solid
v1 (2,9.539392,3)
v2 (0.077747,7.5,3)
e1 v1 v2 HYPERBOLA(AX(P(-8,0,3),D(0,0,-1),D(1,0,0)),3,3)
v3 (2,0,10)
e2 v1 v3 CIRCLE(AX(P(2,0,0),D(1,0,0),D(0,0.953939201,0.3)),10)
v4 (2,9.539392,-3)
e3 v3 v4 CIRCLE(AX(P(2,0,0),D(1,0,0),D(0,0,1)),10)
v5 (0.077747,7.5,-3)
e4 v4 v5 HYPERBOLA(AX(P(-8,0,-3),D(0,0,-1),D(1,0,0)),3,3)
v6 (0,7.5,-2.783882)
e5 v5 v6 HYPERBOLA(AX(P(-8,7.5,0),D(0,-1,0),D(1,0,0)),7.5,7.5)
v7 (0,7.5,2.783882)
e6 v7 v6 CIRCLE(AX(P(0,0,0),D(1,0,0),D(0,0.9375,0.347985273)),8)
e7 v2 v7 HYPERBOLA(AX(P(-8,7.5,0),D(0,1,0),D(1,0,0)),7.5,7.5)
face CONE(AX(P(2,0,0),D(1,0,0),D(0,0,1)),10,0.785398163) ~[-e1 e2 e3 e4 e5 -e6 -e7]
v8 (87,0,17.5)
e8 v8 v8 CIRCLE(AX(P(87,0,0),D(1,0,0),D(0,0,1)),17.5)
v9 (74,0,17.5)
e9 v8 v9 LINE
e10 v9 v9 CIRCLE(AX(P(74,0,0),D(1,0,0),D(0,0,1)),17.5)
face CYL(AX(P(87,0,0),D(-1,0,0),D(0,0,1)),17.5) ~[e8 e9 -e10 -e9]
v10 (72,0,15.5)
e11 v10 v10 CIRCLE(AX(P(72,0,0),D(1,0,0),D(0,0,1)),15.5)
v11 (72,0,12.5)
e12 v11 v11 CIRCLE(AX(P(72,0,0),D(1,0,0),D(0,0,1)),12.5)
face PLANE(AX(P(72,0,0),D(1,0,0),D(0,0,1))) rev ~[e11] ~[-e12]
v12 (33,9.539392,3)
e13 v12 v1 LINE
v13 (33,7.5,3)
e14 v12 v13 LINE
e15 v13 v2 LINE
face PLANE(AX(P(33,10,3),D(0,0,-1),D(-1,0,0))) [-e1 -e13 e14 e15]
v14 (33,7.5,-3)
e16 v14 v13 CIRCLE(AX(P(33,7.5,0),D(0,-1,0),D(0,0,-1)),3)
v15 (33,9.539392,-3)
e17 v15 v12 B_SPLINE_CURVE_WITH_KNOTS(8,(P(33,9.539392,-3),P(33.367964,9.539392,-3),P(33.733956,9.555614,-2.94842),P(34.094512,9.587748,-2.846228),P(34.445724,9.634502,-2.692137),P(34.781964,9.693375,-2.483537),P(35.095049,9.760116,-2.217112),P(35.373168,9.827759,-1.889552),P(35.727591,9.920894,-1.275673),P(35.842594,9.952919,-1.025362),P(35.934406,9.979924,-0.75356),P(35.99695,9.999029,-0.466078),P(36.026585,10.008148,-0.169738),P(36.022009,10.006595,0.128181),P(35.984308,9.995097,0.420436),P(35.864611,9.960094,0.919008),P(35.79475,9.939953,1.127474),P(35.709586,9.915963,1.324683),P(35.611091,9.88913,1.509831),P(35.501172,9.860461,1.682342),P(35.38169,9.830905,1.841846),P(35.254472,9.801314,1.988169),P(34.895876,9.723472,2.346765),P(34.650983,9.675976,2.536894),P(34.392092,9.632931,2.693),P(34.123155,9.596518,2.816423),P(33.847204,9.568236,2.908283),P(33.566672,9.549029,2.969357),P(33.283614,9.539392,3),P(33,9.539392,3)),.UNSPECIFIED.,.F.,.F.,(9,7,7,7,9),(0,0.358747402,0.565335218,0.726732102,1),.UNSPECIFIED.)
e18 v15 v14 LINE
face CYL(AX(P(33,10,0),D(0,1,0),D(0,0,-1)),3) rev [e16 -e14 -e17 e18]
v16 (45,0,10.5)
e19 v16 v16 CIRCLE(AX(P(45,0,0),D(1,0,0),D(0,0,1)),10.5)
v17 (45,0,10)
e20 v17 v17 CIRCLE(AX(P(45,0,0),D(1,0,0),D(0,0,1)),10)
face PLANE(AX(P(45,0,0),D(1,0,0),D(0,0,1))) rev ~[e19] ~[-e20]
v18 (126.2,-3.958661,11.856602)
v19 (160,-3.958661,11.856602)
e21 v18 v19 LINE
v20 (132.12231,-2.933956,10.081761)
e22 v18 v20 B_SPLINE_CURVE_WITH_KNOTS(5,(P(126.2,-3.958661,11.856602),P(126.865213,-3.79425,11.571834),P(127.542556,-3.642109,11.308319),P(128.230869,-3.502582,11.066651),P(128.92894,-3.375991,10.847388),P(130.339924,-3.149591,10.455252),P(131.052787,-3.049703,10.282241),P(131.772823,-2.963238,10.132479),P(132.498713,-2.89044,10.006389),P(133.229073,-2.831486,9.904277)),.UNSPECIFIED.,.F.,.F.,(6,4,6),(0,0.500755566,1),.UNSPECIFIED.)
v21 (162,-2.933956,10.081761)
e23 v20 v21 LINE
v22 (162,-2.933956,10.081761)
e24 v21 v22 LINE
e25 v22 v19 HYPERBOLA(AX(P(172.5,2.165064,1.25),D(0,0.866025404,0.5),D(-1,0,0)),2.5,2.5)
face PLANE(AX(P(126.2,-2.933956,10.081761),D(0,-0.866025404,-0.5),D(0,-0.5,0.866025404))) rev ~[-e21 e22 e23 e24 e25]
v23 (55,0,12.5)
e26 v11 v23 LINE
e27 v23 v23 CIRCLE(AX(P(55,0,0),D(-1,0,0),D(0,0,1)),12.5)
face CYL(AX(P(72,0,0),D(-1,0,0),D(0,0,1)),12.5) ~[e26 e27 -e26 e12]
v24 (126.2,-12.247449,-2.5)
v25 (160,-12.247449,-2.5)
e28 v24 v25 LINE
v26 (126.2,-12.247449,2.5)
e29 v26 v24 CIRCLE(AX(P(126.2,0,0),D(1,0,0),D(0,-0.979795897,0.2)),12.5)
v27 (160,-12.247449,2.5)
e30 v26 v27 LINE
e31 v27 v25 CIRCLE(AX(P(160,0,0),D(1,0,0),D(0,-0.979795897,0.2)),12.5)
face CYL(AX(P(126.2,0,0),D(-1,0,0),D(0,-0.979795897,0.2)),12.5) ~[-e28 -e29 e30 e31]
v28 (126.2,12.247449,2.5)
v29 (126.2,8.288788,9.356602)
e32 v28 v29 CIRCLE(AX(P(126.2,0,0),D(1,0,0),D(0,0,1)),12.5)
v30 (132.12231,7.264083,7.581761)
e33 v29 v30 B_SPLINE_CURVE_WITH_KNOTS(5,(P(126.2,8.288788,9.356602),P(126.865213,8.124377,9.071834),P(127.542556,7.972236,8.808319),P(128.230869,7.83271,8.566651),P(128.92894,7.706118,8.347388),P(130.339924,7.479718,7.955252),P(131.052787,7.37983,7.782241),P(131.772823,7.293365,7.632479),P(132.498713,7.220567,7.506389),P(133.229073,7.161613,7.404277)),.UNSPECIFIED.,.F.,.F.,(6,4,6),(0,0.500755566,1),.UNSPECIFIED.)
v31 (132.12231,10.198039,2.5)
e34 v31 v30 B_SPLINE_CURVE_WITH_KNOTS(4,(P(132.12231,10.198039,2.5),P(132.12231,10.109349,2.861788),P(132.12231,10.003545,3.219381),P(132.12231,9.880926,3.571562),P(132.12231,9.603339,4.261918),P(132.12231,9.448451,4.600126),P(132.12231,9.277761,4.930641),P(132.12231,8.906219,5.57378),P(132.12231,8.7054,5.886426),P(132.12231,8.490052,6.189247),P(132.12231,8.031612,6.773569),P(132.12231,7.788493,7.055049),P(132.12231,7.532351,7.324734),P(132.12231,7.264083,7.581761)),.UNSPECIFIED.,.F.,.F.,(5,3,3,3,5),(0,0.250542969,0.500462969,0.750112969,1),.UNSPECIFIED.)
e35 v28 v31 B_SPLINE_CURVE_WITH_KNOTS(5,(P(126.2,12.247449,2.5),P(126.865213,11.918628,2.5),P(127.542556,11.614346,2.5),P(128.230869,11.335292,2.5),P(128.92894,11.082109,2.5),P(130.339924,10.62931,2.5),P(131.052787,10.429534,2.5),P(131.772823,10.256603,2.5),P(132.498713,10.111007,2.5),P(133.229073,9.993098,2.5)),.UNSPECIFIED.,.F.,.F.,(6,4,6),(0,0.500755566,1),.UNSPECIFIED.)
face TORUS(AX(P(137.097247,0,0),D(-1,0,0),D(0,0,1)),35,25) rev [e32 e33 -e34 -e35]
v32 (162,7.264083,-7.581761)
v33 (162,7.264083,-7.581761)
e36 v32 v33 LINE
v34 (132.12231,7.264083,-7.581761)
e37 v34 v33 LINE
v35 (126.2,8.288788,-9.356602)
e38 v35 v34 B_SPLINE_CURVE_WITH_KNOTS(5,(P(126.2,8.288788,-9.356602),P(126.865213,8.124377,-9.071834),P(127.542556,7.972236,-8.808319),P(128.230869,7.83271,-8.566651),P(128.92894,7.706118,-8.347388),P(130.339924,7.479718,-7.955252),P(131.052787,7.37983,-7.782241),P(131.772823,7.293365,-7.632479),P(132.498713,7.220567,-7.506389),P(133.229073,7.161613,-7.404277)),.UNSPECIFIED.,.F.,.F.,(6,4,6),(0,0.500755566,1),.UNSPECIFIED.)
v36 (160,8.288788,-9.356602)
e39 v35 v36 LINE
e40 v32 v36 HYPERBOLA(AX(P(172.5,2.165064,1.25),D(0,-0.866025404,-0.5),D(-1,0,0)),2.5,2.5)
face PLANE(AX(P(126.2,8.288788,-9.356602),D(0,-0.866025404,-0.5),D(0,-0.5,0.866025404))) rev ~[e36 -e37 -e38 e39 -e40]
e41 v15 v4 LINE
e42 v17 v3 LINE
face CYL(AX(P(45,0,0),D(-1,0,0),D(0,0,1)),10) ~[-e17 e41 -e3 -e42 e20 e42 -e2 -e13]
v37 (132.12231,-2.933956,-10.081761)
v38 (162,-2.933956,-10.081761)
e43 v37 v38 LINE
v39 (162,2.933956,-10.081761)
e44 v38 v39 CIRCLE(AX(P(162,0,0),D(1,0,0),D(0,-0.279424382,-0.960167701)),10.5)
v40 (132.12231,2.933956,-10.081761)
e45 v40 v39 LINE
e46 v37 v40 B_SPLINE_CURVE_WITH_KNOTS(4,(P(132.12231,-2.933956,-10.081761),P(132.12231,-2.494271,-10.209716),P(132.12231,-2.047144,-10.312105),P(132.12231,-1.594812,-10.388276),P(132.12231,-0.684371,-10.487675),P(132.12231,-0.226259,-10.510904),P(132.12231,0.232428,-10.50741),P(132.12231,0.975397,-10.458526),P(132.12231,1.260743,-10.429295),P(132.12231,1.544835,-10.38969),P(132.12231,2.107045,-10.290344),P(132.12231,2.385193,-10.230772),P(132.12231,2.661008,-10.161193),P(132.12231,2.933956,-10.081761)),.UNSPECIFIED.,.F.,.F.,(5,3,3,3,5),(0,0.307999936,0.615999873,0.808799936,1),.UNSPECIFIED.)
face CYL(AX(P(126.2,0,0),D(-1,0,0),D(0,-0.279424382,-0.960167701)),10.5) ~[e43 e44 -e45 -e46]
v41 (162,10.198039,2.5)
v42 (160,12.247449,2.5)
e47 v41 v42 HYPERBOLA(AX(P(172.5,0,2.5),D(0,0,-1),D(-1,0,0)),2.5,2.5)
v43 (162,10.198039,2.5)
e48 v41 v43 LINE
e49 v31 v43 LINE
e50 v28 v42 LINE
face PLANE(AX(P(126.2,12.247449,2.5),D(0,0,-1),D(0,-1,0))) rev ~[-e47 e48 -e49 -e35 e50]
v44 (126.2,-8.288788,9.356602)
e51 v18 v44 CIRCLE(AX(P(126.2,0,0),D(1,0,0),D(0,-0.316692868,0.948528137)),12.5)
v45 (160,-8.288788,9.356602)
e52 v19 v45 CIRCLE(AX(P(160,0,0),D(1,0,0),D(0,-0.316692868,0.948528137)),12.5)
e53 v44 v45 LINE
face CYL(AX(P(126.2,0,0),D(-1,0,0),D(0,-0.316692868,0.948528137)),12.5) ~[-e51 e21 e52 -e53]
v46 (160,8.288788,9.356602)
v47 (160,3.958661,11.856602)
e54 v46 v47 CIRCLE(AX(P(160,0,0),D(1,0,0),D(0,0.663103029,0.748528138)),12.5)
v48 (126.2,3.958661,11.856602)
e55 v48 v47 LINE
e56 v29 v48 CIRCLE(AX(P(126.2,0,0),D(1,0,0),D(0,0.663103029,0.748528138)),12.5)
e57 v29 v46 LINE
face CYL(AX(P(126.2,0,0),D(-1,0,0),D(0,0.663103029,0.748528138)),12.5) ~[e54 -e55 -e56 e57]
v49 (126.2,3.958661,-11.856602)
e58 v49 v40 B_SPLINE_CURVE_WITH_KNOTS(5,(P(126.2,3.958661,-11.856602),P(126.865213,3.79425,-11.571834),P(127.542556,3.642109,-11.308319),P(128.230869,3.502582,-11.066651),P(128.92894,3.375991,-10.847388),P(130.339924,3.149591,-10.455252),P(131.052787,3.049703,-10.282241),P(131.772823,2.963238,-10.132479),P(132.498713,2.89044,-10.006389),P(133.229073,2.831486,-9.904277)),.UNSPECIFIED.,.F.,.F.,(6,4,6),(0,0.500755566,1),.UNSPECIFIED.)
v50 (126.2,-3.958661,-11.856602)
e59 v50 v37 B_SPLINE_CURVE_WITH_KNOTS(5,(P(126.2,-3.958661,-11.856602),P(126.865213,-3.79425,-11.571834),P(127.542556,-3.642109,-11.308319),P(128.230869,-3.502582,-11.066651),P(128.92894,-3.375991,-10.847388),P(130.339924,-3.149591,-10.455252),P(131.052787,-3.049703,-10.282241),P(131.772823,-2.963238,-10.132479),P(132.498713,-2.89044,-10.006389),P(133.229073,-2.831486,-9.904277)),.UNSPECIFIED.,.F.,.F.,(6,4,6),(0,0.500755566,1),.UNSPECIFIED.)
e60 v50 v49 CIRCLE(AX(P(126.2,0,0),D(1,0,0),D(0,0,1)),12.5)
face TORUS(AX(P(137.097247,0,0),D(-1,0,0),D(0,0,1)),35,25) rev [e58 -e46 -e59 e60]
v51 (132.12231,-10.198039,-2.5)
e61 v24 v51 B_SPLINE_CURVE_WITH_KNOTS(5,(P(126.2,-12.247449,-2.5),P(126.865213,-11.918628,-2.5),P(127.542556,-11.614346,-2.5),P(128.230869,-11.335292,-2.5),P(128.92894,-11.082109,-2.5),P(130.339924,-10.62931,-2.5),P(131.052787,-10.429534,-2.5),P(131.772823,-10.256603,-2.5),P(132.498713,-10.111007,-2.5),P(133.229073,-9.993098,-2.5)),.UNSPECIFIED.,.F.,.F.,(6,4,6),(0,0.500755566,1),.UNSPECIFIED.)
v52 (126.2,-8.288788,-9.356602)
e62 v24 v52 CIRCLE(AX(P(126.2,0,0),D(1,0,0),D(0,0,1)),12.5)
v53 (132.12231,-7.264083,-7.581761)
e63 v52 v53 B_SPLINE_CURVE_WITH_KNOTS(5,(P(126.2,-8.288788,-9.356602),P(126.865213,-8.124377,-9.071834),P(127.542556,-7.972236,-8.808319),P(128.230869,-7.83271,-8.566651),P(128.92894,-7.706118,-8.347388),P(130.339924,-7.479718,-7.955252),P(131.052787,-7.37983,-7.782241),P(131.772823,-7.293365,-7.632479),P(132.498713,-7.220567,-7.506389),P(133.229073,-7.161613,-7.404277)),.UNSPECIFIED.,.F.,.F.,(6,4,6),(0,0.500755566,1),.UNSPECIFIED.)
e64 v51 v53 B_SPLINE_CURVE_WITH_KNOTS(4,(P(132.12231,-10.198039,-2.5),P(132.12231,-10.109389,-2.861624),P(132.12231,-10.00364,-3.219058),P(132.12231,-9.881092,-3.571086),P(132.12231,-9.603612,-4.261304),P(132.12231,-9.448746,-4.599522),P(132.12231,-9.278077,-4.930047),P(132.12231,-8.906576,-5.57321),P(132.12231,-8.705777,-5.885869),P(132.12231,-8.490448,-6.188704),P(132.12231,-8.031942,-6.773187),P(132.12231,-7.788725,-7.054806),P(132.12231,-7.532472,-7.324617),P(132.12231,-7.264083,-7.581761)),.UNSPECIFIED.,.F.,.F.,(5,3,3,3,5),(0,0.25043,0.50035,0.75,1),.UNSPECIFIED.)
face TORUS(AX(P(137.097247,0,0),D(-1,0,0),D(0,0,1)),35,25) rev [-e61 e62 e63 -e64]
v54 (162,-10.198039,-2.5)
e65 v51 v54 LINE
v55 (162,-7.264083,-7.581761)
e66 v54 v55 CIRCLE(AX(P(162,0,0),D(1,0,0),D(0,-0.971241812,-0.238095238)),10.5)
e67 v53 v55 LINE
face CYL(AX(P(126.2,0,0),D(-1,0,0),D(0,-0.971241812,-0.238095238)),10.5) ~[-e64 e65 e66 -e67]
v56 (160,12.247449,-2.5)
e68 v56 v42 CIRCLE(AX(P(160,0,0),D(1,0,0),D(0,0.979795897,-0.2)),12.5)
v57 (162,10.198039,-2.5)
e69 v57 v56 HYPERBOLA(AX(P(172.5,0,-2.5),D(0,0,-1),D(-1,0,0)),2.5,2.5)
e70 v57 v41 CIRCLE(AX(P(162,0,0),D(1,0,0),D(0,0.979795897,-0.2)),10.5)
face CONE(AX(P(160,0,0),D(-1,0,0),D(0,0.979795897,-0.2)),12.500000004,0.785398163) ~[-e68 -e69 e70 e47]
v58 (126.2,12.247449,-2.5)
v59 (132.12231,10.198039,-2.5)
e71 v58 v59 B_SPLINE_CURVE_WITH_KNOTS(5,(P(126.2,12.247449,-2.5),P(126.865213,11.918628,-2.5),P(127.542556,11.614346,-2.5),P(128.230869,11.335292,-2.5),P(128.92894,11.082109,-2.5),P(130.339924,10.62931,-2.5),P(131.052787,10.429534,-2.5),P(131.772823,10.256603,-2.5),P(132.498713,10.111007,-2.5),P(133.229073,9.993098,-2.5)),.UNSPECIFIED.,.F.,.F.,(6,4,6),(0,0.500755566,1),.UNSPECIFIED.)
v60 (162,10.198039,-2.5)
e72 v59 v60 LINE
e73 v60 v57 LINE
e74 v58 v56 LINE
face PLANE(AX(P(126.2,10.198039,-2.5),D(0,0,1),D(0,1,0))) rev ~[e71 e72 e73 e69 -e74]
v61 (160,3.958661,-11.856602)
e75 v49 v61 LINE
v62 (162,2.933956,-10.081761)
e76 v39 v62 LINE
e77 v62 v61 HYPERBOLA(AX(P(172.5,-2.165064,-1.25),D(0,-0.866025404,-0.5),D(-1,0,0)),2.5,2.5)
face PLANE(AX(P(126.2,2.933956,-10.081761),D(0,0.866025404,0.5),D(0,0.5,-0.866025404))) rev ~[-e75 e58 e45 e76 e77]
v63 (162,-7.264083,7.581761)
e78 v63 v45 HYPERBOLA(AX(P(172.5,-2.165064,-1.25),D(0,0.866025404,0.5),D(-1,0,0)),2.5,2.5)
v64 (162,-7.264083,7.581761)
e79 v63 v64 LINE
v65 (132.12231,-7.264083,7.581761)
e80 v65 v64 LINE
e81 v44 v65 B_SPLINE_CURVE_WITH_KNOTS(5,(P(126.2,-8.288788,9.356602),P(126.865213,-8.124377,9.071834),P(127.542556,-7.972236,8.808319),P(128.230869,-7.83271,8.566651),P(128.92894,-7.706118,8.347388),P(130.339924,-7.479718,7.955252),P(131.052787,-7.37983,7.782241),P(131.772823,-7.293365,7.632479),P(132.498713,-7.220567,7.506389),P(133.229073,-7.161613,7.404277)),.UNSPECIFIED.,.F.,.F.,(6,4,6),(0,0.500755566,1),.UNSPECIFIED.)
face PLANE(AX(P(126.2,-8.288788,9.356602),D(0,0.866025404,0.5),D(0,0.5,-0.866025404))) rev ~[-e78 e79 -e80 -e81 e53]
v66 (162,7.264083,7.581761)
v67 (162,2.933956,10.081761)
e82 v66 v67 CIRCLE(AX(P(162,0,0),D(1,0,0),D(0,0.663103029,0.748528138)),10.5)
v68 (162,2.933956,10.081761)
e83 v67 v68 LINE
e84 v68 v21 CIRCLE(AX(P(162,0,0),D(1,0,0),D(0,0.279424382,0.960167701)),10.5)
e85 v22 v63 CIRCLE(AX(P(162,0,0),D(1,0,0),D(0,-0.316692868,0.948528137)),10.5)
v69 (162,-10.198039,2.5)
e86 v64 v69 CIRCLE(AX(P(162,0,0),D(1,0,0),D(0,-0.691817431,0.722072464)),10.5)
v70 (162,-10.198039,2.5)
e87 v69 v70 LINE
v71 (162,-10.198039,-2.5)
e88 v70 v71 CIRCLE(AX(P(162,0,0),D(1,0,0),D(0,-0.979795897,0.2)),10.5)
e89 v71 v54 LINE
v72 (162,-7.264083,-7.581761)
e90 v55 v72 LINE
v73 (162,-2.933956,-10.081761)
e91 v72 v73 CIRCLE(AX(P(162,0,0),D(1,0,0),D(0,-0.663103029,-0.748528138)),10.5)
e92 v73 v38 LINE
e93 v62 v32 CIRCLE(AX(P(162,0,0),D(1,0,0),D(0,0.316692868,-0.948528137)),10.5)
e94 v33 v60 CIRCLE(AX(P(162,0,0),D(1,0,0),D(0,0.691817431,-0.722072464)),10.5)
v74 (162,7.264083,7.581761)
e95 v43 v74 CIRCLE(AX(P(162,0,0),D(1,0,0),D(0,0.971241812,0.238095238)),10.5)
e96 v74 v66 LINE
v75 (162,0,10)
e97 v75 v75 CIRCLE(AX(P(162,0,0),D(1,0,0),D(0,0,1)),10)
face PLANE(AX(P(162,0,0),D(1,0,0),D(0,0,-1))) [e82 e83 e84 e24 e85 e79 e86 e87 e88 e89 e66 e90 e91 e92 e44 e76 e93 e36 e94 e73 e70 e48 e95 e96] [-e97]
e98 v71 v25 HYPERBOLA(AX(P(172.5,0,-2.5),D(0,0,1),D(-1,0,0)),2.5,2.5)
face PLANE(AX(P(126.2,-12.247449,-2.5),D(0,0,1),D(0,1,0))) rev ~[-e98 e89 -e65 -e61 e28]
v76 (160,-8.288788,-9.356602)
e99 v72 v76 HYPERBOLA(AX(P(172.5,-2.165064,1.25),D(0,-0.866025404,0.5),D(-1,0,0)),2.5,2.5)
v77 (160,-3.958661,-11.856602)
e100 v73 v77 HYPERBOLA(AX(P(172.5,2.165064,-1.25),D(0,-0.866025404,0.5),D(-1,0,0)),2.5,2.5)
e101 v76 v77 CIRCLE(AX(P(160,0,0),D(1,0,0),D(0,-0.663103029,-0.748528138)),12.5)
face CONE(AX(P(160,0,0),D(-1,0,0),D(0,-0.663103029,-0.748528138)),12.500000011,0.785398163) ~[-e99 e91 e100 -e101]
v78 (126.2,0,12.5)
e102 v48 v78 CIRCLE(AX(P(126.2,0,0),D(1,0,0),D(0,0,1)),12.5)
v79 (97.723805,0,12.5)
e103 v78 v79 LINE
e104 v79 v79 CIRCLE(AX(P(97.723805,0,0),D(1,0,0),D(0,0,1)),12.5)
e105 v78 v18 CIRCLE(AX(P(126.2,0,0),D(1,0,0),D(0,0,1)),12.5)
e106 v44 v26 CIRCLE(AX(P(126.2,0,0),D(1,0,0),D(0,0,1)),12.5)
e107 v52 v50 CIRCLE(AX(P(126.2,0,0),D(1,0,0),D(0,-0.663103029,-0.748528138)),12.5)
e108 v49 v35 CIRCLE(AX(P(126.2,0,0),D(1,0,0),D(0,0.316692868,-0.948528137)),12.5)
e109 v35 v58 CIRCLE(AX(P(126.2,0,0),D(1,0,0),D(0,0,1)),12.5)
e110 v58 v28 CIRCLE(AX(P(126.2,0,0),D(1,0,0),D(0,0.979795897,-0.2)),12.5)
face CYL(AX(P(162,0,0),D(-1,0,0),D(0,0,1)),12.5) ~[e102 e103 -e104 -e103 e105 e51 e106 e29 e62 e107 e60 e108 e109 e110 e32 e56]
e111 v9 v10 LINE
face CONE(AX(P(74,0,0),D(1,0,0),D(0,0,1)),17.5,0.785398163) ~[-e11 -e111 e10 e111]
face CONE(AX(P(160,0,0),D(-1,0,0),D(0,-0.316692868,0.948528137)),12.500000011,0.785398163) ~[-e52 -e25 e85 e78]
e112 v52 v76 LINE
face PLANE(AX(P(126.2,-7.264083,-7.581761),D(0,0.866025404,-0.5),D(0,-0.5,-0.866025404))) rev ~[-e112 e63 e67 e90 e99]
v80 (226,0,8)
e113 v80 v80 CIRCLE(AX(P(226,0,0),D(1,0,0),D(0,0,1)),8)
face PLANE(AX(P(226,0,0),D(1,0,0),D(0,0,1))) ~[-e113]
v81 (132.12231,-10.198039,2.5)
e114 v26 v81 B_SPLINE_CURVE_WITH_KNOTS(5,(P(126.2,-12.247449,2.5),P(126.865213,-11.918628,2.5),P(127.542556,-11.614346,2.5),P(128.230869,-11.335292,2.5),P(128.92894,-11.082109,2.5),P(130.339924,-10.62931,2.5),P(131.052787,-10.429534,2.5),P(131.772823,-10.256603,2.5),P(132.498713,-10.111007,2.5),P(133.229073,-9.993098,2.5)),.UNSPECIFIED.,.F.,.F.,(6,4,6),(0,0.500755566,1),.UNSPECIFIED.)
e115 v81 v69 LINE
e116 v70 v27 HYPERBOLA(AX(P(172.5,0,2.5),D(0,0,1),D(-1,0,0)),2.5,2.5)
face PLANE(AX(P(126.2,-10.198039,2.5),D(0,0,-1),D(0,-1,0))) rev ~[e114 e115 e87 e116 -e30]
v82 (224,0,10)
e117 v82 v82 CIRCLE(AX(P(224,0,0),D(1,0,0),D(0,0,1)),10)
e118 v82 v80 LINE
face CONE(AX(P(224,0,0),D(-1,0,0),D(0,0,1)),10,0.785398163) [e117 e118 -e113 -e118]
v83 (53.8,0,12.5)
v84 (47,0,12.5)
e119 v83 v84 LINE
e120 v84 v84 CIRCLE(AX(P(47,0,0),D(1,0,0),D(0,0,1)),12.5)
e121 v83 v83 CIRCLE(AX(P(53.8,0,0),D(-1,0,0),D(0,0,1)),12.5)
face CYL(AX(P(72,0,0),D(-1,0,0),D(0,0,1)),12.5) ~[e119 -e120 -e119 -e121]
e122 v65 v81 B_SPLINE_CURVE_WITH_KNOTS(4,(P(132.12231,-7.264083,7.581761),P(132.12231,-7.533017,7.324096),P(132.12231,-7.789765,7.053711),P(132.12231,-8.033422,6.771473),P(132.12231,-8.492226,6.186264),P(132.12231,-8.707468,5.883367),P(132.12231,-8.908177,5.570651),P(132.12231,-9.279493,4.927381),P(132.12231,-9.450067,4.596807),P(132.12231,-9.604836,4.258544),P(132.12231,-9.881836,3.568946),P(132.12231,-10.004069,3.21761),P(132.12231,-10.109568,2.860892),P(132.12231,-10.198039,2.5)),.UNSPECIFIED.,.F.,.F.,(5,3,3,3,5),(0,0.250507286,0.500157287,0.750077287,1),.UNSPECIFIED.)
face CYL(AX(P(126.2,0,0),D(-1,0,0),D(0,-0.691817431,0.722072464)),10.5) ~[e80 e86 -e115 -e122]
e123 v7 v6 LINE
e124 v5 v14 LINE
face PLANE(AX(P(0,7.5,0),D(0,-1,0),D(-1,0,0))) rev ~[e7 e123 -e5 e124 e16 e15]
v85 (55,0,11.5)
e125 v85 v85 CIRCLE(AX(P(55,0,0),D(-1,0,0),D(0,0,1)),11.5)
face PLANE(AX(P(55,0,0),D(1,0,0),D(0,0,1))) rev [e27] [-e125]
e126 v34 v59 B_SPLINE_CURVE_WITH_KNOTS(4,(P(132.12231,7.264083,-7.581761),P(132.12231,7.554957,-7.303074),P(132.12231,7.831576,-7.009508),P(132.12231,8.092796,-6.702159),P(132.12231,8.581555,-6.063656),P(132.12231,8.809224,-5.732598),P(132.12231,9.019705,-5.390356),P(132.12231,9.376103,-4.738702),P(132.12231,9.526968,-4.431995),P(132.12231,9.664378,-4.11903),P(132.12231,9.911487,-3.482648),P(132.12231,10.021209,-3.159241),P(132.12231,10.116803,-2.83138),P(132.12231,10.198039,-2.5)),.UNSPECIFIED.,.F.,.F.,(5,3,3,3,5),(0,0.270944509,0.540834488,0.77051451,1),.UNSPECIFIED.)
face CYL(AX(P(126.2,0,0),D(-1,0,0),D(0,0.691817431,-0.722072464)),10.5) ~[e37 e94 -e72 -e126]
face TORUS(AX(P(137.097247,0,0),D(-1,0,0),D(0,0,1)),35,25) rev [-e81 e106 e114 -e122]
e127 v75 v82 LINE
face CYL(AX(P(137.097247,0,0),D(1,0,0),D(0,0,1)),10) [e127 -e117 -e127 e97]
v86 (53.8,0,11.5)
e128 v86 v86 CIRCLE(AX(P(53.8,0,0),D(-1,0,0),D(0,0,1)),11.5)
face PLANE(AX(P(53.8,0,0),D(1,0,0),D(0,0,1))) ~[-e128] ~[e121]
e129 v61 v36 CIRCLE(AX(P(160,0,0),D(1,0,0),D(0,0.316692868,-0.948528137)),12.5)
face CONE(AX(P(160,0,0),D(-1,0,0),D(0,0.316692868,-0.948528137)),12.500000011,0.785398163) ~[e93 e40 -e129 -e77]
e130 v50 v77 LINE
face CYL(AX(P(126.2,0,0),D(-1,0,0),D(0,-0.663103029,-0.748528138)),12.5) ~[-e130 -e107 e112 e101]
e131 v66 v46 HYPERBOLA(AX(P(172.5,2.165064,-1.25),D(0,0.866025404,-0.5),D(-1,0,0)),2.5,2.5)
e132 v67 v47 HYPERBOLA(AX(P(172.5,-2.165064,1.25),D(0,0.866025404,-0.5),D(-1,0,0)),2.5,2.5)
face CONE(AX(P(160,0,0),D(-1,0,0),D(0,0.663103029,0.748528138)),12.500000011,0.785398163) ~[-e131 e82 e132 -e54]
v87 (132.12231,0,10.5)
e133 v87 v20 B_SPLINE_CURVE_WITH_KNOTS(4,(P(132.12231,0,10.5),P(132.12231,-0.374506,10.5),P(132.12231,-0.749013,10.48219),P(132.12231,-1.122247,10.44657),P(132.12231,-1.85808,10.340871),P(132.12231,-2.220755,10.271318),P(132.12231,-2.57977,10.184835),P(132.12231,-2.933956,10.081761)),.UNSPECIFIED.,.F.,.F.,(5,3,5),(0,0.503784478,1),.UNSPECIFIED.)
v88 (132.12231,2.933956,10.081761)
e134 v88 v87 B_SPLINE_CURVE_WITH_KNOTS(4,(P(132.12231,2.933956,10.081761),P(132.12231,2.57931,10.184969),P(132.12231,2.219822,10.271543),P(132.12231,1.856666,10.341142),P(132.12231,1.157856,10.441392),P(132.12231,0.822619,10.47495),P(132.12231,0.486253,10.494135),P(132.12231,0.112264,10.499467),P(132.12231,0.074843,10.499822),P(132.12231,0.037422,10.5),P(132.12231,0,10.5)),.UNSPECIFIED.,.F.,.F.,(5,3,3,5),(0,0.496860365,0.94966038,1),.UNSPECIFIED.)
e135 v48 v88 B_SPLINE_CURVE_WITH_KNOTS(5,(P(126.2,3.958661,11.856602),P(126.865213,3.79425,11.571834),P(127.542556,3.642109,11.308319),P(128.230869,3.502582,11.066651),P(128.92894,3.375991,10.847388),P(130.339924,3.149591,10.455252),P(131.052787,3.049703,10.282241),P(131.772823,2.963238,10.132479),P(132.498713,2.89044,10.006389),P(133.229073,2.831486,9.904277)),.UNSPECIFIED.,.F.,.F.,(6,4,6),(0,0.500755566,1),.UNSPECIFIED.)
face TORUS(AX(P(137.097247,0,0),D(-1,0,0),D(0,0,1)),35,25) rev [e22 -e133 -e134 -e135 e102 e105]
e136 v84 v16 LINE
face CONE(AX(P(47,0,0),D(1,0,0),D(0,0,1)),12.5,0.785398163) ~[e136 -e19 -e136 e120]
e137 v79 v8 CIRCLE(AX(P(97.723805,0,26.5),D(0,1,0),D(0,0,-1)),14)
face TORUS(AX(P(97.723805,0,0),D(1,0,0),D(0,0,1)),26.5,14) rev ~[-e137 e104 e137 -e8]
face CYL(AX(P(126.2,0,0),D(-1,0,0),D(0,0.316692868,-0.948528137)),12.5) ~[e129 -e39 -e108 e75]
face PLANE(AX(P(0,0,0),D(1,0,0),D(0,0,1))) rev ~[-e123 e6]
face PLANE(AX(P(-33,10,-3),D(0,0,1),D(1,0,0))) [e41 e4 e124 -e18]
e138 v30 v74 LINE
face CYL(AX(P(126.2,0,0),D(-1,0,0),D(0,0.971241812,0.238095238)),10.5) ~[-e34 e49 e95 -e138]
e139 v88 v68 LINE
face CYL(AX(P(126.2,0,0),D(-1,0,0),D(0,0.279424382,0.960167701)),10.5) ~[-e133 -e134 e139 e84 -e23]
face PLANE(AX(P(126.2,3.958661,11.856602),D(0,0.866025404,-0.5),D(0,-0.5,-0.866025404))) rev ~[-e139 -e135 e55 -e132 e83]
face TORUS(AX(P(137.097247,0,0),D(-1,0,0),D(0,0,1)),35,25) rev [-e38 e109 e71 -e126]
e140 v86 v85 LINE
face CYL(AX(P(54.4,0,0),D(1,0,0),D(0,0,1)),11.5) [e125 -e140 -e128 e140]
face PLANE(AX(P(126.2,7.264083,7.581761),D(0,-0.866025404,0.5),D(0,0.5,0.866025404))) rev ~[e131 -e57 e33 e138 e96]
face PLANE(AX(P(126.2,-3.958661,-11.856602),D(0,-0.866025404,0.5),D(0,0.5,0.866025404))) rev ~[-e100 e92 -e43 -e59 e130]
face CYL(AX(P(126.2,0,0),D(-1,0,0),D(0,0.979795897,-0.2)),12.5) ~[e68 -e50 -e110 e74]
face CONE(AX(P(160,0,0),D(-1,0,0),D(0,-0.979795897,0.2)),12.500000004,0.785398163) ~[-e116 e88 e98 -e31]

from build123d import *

# Parameters (mm, degrees)
CUT_EXTRUDE_START   = 10
CUT_EXTRUDE_1_DEPTH = 2.5
SKETCH_4_W          = 1.2
SKETCH_4_H          = 1
EXTRUDE_START       = -99.8
EXTRUDE_11_DEPTH    = 35.8
CHAMFER_1_SIZE      = 2


with BuildPart() as part:
    # 草图1 → 旋转1 (revolve)
    with BuildSketch(Plane.XY, mode=Mode.PRIVATE) as revolve_1_sk:
        with BuildLine():
            Line((0, 10), (0, 0))
            Line((0, 0), (226, 0))
            Line((226, 0), (226, 10))
            Line((226, 10), (162, 10))
            Line((162, 10), (162, 12.5))
            Line((162, 12.5), (97.723805295, 12.5))
            ThreePointArc((97.723805295, 12.5), (91.807725512, 13.81142246), (87, 17.5))
            Line((87, 17.5), (72, 17.5))
            Line((72, 17.5), (72, 12.5))
            Line((72, 12.5), (45, 12.5))
            Line((45, 12.5), (45, 10))
            Line((45, 10), (0, 10))
        make_face()
    revolve(revolve_1_sk.sketch.rotate(Axis((0, 0, 0), (1, 0, 0)), 90), axis=Axis((0, 0, 0), (1, 0, 0)))

    # 草图3 → 切除-拉伸1 (cut)
    with BuildSketch(Plane(origin=(0, 0, 0), x_dir=(1, 0, 0), z_dir=(0, 1, 0)).offset(CUT_EXTRUDE_START)):
        with BuildLine():
            Line((-33, 3), (33, 3))
            ThreePointArc((33, 3), (36, 0), (33, -3))
            Line((33, -3), (-33, -3))
            ThreePointArc((-33, -3), (-36, 0), (-33, 3))
        make_face()
    extrude(amount=-CUT_EXTRUDE_1_DEPTH, mode=Mode.SUBTRACT)

    # 草图4 → 切除-旋转1 (revolve, cut)
    with BuildSketch(Plane.XY, mode=Mode.PRIVATE) as cut_revolve_1_sk:
        with Locations((54.4, 12)):
            Rectangle(SKETCH_4_W, SKETCH_4_H)
        with Locations((54.4, -12)):
            Rectangle(SKETCH_4_W, SKETCH_4_H)
    revolve(cut_revolve_1_sk.sketch.rotate(Axis((0, 0, 0), (1, 0, 0)), 90), axis=Axis((0, 0, 0), (1, 0, 0)), mode=Mode.SUBTRACT)

    # 草图5 → 切除-旋转2 (revolve, cut)
    with BuildSketch(Plane.XY, mode=Mode.PRIVATE) as cut_revolve_2_sk:
        with BuildLine():
            Line((162, 12.5), (126.2, 12.5))
            ThreePointArc((126.2, 12.5), (131.507077415, 10.633014138), (137.097247359, 10))
            Line((137.097247359, 10), (162, 10))
            Line((162, 10), (162, 12.5))
        make_face()
    revolve(cut_revolve_2_sk.sketch.rotate(Axis((0, 0, 0), (1, 0, 0)), 90), axis=Axis((0, 0, 0), (1, 0, 0)), mode=Mode.SUBTRACT)

    # 草图8 → 凸台-拉伸11 (add)
    with BuildSketch(Plane(origin=(226, 0, 0), x_dir=(0, 0, -1), z_dir=(1, 0, 0)).offset(EXTRUDE_START)):
        with BuildLine():
            Line((9.356601718, 8.288787866), (7.581760866, 7.264083023))
            ThreePointArc((7.581760866, 7.264083023), (5.25, 9.09326674), (2.5, 10.198039027))
            Line((2.5, 10.198039027), (2.5, 12.247448714))
            ThreePointArc((2.5, 12.247448714), (0, 12.5), (-2.5, 12.247448714))
            Line((-2.5, 12.247448714), (-2.5, 10.198039027))
            ThreePointArc((-2.5, 10.198039027), (-5.25, 9.09326674), (-7.581760866, 7.264083023))
            Line((-7.581760866, 7.264083023), (-9.356601718, 8.288787866))
            ThreePointArc((-9.356601718, 8.288787866), (-10.825317547, 6.25), (-11.856601718, 3.958660847))
            Line((-11.856601718, 3.958660847), (-10.081760866, 2.933956004))
            ThreePointArc((-10.081760866, 2.933956004), (-10.5, 0), (-10.081760866, -2.933956004))
            Line((-10.081760866, -2.933956004), (-11.856601718, -3.958660847))
            ThreePointArc((-11.856601718, -3.958660847), (-10.825317547, -6.25), (-9.356601718, -8.288787866))
            Line((-9.356601718, -8.288787866), (-7.581760866, -7.264083023))
            ThreePointArc((-7.581760866, -7.264083023), (-5.25, -9.09326674), (-2.5, -10.198039027))
            Line((-2.5, -10.198039027), (-2.5, -12.247448714))
            ThreePointArc((-2.5, -12.247448714), (0, -12.5), (2.5, -12.247448714))
            Line((2.5, -12.247448714), (2.5, -10.198039027))
            ThreePointArc((2.5, -10.198039027), (5.25, -9.09326674), (7.581760866, -7.264083023))
            Line((7.581760866, -7.264083023), (9.356601718, -8.288787866))
            ThreePointArc((9.356601718, -8.288787866), (10.825317547, -6.25), (11.856601718, -3.958660847))
            Line((11.856601718, -3.958660847), (10.081760866, -2.933956004))
            ThreePointArc((10.081760866, -2.933956004), (10.5, 0), (10.081760866, 2.933956004))
            Line((10.081760866, 2.933956004), (11.856601718, 3.958660847))
            ThreePointArc((11.856601718, 3.958660847), (10.825317547, 6.25), (9.356601718, 8.288787866))
        make_face()
    extrude(amount=EXTRUDE_11_DEPTH)

    # 倒角1
    chamfer_1_edges = [part.edges().sort_by_distance(p)[0] for p in [
        (226, 0, -10),
        (162, 6.25, -10.825317547),
        (162, -6.25, -10.825317547),
        (162, -12.5, 0),
        (162, -6.25, 10.825317547),
        (162, 6.25, 10.825317547),
        (162, 12.5, 0),
        (72, 0, -17.5),
        (45, 0, -12.5),
        (0, -8.062257748, -5.916079783),
    ]]
    chamfer(chamfer_1_edges, length=CHAMFER_1_SIZE)


solid = part.part
